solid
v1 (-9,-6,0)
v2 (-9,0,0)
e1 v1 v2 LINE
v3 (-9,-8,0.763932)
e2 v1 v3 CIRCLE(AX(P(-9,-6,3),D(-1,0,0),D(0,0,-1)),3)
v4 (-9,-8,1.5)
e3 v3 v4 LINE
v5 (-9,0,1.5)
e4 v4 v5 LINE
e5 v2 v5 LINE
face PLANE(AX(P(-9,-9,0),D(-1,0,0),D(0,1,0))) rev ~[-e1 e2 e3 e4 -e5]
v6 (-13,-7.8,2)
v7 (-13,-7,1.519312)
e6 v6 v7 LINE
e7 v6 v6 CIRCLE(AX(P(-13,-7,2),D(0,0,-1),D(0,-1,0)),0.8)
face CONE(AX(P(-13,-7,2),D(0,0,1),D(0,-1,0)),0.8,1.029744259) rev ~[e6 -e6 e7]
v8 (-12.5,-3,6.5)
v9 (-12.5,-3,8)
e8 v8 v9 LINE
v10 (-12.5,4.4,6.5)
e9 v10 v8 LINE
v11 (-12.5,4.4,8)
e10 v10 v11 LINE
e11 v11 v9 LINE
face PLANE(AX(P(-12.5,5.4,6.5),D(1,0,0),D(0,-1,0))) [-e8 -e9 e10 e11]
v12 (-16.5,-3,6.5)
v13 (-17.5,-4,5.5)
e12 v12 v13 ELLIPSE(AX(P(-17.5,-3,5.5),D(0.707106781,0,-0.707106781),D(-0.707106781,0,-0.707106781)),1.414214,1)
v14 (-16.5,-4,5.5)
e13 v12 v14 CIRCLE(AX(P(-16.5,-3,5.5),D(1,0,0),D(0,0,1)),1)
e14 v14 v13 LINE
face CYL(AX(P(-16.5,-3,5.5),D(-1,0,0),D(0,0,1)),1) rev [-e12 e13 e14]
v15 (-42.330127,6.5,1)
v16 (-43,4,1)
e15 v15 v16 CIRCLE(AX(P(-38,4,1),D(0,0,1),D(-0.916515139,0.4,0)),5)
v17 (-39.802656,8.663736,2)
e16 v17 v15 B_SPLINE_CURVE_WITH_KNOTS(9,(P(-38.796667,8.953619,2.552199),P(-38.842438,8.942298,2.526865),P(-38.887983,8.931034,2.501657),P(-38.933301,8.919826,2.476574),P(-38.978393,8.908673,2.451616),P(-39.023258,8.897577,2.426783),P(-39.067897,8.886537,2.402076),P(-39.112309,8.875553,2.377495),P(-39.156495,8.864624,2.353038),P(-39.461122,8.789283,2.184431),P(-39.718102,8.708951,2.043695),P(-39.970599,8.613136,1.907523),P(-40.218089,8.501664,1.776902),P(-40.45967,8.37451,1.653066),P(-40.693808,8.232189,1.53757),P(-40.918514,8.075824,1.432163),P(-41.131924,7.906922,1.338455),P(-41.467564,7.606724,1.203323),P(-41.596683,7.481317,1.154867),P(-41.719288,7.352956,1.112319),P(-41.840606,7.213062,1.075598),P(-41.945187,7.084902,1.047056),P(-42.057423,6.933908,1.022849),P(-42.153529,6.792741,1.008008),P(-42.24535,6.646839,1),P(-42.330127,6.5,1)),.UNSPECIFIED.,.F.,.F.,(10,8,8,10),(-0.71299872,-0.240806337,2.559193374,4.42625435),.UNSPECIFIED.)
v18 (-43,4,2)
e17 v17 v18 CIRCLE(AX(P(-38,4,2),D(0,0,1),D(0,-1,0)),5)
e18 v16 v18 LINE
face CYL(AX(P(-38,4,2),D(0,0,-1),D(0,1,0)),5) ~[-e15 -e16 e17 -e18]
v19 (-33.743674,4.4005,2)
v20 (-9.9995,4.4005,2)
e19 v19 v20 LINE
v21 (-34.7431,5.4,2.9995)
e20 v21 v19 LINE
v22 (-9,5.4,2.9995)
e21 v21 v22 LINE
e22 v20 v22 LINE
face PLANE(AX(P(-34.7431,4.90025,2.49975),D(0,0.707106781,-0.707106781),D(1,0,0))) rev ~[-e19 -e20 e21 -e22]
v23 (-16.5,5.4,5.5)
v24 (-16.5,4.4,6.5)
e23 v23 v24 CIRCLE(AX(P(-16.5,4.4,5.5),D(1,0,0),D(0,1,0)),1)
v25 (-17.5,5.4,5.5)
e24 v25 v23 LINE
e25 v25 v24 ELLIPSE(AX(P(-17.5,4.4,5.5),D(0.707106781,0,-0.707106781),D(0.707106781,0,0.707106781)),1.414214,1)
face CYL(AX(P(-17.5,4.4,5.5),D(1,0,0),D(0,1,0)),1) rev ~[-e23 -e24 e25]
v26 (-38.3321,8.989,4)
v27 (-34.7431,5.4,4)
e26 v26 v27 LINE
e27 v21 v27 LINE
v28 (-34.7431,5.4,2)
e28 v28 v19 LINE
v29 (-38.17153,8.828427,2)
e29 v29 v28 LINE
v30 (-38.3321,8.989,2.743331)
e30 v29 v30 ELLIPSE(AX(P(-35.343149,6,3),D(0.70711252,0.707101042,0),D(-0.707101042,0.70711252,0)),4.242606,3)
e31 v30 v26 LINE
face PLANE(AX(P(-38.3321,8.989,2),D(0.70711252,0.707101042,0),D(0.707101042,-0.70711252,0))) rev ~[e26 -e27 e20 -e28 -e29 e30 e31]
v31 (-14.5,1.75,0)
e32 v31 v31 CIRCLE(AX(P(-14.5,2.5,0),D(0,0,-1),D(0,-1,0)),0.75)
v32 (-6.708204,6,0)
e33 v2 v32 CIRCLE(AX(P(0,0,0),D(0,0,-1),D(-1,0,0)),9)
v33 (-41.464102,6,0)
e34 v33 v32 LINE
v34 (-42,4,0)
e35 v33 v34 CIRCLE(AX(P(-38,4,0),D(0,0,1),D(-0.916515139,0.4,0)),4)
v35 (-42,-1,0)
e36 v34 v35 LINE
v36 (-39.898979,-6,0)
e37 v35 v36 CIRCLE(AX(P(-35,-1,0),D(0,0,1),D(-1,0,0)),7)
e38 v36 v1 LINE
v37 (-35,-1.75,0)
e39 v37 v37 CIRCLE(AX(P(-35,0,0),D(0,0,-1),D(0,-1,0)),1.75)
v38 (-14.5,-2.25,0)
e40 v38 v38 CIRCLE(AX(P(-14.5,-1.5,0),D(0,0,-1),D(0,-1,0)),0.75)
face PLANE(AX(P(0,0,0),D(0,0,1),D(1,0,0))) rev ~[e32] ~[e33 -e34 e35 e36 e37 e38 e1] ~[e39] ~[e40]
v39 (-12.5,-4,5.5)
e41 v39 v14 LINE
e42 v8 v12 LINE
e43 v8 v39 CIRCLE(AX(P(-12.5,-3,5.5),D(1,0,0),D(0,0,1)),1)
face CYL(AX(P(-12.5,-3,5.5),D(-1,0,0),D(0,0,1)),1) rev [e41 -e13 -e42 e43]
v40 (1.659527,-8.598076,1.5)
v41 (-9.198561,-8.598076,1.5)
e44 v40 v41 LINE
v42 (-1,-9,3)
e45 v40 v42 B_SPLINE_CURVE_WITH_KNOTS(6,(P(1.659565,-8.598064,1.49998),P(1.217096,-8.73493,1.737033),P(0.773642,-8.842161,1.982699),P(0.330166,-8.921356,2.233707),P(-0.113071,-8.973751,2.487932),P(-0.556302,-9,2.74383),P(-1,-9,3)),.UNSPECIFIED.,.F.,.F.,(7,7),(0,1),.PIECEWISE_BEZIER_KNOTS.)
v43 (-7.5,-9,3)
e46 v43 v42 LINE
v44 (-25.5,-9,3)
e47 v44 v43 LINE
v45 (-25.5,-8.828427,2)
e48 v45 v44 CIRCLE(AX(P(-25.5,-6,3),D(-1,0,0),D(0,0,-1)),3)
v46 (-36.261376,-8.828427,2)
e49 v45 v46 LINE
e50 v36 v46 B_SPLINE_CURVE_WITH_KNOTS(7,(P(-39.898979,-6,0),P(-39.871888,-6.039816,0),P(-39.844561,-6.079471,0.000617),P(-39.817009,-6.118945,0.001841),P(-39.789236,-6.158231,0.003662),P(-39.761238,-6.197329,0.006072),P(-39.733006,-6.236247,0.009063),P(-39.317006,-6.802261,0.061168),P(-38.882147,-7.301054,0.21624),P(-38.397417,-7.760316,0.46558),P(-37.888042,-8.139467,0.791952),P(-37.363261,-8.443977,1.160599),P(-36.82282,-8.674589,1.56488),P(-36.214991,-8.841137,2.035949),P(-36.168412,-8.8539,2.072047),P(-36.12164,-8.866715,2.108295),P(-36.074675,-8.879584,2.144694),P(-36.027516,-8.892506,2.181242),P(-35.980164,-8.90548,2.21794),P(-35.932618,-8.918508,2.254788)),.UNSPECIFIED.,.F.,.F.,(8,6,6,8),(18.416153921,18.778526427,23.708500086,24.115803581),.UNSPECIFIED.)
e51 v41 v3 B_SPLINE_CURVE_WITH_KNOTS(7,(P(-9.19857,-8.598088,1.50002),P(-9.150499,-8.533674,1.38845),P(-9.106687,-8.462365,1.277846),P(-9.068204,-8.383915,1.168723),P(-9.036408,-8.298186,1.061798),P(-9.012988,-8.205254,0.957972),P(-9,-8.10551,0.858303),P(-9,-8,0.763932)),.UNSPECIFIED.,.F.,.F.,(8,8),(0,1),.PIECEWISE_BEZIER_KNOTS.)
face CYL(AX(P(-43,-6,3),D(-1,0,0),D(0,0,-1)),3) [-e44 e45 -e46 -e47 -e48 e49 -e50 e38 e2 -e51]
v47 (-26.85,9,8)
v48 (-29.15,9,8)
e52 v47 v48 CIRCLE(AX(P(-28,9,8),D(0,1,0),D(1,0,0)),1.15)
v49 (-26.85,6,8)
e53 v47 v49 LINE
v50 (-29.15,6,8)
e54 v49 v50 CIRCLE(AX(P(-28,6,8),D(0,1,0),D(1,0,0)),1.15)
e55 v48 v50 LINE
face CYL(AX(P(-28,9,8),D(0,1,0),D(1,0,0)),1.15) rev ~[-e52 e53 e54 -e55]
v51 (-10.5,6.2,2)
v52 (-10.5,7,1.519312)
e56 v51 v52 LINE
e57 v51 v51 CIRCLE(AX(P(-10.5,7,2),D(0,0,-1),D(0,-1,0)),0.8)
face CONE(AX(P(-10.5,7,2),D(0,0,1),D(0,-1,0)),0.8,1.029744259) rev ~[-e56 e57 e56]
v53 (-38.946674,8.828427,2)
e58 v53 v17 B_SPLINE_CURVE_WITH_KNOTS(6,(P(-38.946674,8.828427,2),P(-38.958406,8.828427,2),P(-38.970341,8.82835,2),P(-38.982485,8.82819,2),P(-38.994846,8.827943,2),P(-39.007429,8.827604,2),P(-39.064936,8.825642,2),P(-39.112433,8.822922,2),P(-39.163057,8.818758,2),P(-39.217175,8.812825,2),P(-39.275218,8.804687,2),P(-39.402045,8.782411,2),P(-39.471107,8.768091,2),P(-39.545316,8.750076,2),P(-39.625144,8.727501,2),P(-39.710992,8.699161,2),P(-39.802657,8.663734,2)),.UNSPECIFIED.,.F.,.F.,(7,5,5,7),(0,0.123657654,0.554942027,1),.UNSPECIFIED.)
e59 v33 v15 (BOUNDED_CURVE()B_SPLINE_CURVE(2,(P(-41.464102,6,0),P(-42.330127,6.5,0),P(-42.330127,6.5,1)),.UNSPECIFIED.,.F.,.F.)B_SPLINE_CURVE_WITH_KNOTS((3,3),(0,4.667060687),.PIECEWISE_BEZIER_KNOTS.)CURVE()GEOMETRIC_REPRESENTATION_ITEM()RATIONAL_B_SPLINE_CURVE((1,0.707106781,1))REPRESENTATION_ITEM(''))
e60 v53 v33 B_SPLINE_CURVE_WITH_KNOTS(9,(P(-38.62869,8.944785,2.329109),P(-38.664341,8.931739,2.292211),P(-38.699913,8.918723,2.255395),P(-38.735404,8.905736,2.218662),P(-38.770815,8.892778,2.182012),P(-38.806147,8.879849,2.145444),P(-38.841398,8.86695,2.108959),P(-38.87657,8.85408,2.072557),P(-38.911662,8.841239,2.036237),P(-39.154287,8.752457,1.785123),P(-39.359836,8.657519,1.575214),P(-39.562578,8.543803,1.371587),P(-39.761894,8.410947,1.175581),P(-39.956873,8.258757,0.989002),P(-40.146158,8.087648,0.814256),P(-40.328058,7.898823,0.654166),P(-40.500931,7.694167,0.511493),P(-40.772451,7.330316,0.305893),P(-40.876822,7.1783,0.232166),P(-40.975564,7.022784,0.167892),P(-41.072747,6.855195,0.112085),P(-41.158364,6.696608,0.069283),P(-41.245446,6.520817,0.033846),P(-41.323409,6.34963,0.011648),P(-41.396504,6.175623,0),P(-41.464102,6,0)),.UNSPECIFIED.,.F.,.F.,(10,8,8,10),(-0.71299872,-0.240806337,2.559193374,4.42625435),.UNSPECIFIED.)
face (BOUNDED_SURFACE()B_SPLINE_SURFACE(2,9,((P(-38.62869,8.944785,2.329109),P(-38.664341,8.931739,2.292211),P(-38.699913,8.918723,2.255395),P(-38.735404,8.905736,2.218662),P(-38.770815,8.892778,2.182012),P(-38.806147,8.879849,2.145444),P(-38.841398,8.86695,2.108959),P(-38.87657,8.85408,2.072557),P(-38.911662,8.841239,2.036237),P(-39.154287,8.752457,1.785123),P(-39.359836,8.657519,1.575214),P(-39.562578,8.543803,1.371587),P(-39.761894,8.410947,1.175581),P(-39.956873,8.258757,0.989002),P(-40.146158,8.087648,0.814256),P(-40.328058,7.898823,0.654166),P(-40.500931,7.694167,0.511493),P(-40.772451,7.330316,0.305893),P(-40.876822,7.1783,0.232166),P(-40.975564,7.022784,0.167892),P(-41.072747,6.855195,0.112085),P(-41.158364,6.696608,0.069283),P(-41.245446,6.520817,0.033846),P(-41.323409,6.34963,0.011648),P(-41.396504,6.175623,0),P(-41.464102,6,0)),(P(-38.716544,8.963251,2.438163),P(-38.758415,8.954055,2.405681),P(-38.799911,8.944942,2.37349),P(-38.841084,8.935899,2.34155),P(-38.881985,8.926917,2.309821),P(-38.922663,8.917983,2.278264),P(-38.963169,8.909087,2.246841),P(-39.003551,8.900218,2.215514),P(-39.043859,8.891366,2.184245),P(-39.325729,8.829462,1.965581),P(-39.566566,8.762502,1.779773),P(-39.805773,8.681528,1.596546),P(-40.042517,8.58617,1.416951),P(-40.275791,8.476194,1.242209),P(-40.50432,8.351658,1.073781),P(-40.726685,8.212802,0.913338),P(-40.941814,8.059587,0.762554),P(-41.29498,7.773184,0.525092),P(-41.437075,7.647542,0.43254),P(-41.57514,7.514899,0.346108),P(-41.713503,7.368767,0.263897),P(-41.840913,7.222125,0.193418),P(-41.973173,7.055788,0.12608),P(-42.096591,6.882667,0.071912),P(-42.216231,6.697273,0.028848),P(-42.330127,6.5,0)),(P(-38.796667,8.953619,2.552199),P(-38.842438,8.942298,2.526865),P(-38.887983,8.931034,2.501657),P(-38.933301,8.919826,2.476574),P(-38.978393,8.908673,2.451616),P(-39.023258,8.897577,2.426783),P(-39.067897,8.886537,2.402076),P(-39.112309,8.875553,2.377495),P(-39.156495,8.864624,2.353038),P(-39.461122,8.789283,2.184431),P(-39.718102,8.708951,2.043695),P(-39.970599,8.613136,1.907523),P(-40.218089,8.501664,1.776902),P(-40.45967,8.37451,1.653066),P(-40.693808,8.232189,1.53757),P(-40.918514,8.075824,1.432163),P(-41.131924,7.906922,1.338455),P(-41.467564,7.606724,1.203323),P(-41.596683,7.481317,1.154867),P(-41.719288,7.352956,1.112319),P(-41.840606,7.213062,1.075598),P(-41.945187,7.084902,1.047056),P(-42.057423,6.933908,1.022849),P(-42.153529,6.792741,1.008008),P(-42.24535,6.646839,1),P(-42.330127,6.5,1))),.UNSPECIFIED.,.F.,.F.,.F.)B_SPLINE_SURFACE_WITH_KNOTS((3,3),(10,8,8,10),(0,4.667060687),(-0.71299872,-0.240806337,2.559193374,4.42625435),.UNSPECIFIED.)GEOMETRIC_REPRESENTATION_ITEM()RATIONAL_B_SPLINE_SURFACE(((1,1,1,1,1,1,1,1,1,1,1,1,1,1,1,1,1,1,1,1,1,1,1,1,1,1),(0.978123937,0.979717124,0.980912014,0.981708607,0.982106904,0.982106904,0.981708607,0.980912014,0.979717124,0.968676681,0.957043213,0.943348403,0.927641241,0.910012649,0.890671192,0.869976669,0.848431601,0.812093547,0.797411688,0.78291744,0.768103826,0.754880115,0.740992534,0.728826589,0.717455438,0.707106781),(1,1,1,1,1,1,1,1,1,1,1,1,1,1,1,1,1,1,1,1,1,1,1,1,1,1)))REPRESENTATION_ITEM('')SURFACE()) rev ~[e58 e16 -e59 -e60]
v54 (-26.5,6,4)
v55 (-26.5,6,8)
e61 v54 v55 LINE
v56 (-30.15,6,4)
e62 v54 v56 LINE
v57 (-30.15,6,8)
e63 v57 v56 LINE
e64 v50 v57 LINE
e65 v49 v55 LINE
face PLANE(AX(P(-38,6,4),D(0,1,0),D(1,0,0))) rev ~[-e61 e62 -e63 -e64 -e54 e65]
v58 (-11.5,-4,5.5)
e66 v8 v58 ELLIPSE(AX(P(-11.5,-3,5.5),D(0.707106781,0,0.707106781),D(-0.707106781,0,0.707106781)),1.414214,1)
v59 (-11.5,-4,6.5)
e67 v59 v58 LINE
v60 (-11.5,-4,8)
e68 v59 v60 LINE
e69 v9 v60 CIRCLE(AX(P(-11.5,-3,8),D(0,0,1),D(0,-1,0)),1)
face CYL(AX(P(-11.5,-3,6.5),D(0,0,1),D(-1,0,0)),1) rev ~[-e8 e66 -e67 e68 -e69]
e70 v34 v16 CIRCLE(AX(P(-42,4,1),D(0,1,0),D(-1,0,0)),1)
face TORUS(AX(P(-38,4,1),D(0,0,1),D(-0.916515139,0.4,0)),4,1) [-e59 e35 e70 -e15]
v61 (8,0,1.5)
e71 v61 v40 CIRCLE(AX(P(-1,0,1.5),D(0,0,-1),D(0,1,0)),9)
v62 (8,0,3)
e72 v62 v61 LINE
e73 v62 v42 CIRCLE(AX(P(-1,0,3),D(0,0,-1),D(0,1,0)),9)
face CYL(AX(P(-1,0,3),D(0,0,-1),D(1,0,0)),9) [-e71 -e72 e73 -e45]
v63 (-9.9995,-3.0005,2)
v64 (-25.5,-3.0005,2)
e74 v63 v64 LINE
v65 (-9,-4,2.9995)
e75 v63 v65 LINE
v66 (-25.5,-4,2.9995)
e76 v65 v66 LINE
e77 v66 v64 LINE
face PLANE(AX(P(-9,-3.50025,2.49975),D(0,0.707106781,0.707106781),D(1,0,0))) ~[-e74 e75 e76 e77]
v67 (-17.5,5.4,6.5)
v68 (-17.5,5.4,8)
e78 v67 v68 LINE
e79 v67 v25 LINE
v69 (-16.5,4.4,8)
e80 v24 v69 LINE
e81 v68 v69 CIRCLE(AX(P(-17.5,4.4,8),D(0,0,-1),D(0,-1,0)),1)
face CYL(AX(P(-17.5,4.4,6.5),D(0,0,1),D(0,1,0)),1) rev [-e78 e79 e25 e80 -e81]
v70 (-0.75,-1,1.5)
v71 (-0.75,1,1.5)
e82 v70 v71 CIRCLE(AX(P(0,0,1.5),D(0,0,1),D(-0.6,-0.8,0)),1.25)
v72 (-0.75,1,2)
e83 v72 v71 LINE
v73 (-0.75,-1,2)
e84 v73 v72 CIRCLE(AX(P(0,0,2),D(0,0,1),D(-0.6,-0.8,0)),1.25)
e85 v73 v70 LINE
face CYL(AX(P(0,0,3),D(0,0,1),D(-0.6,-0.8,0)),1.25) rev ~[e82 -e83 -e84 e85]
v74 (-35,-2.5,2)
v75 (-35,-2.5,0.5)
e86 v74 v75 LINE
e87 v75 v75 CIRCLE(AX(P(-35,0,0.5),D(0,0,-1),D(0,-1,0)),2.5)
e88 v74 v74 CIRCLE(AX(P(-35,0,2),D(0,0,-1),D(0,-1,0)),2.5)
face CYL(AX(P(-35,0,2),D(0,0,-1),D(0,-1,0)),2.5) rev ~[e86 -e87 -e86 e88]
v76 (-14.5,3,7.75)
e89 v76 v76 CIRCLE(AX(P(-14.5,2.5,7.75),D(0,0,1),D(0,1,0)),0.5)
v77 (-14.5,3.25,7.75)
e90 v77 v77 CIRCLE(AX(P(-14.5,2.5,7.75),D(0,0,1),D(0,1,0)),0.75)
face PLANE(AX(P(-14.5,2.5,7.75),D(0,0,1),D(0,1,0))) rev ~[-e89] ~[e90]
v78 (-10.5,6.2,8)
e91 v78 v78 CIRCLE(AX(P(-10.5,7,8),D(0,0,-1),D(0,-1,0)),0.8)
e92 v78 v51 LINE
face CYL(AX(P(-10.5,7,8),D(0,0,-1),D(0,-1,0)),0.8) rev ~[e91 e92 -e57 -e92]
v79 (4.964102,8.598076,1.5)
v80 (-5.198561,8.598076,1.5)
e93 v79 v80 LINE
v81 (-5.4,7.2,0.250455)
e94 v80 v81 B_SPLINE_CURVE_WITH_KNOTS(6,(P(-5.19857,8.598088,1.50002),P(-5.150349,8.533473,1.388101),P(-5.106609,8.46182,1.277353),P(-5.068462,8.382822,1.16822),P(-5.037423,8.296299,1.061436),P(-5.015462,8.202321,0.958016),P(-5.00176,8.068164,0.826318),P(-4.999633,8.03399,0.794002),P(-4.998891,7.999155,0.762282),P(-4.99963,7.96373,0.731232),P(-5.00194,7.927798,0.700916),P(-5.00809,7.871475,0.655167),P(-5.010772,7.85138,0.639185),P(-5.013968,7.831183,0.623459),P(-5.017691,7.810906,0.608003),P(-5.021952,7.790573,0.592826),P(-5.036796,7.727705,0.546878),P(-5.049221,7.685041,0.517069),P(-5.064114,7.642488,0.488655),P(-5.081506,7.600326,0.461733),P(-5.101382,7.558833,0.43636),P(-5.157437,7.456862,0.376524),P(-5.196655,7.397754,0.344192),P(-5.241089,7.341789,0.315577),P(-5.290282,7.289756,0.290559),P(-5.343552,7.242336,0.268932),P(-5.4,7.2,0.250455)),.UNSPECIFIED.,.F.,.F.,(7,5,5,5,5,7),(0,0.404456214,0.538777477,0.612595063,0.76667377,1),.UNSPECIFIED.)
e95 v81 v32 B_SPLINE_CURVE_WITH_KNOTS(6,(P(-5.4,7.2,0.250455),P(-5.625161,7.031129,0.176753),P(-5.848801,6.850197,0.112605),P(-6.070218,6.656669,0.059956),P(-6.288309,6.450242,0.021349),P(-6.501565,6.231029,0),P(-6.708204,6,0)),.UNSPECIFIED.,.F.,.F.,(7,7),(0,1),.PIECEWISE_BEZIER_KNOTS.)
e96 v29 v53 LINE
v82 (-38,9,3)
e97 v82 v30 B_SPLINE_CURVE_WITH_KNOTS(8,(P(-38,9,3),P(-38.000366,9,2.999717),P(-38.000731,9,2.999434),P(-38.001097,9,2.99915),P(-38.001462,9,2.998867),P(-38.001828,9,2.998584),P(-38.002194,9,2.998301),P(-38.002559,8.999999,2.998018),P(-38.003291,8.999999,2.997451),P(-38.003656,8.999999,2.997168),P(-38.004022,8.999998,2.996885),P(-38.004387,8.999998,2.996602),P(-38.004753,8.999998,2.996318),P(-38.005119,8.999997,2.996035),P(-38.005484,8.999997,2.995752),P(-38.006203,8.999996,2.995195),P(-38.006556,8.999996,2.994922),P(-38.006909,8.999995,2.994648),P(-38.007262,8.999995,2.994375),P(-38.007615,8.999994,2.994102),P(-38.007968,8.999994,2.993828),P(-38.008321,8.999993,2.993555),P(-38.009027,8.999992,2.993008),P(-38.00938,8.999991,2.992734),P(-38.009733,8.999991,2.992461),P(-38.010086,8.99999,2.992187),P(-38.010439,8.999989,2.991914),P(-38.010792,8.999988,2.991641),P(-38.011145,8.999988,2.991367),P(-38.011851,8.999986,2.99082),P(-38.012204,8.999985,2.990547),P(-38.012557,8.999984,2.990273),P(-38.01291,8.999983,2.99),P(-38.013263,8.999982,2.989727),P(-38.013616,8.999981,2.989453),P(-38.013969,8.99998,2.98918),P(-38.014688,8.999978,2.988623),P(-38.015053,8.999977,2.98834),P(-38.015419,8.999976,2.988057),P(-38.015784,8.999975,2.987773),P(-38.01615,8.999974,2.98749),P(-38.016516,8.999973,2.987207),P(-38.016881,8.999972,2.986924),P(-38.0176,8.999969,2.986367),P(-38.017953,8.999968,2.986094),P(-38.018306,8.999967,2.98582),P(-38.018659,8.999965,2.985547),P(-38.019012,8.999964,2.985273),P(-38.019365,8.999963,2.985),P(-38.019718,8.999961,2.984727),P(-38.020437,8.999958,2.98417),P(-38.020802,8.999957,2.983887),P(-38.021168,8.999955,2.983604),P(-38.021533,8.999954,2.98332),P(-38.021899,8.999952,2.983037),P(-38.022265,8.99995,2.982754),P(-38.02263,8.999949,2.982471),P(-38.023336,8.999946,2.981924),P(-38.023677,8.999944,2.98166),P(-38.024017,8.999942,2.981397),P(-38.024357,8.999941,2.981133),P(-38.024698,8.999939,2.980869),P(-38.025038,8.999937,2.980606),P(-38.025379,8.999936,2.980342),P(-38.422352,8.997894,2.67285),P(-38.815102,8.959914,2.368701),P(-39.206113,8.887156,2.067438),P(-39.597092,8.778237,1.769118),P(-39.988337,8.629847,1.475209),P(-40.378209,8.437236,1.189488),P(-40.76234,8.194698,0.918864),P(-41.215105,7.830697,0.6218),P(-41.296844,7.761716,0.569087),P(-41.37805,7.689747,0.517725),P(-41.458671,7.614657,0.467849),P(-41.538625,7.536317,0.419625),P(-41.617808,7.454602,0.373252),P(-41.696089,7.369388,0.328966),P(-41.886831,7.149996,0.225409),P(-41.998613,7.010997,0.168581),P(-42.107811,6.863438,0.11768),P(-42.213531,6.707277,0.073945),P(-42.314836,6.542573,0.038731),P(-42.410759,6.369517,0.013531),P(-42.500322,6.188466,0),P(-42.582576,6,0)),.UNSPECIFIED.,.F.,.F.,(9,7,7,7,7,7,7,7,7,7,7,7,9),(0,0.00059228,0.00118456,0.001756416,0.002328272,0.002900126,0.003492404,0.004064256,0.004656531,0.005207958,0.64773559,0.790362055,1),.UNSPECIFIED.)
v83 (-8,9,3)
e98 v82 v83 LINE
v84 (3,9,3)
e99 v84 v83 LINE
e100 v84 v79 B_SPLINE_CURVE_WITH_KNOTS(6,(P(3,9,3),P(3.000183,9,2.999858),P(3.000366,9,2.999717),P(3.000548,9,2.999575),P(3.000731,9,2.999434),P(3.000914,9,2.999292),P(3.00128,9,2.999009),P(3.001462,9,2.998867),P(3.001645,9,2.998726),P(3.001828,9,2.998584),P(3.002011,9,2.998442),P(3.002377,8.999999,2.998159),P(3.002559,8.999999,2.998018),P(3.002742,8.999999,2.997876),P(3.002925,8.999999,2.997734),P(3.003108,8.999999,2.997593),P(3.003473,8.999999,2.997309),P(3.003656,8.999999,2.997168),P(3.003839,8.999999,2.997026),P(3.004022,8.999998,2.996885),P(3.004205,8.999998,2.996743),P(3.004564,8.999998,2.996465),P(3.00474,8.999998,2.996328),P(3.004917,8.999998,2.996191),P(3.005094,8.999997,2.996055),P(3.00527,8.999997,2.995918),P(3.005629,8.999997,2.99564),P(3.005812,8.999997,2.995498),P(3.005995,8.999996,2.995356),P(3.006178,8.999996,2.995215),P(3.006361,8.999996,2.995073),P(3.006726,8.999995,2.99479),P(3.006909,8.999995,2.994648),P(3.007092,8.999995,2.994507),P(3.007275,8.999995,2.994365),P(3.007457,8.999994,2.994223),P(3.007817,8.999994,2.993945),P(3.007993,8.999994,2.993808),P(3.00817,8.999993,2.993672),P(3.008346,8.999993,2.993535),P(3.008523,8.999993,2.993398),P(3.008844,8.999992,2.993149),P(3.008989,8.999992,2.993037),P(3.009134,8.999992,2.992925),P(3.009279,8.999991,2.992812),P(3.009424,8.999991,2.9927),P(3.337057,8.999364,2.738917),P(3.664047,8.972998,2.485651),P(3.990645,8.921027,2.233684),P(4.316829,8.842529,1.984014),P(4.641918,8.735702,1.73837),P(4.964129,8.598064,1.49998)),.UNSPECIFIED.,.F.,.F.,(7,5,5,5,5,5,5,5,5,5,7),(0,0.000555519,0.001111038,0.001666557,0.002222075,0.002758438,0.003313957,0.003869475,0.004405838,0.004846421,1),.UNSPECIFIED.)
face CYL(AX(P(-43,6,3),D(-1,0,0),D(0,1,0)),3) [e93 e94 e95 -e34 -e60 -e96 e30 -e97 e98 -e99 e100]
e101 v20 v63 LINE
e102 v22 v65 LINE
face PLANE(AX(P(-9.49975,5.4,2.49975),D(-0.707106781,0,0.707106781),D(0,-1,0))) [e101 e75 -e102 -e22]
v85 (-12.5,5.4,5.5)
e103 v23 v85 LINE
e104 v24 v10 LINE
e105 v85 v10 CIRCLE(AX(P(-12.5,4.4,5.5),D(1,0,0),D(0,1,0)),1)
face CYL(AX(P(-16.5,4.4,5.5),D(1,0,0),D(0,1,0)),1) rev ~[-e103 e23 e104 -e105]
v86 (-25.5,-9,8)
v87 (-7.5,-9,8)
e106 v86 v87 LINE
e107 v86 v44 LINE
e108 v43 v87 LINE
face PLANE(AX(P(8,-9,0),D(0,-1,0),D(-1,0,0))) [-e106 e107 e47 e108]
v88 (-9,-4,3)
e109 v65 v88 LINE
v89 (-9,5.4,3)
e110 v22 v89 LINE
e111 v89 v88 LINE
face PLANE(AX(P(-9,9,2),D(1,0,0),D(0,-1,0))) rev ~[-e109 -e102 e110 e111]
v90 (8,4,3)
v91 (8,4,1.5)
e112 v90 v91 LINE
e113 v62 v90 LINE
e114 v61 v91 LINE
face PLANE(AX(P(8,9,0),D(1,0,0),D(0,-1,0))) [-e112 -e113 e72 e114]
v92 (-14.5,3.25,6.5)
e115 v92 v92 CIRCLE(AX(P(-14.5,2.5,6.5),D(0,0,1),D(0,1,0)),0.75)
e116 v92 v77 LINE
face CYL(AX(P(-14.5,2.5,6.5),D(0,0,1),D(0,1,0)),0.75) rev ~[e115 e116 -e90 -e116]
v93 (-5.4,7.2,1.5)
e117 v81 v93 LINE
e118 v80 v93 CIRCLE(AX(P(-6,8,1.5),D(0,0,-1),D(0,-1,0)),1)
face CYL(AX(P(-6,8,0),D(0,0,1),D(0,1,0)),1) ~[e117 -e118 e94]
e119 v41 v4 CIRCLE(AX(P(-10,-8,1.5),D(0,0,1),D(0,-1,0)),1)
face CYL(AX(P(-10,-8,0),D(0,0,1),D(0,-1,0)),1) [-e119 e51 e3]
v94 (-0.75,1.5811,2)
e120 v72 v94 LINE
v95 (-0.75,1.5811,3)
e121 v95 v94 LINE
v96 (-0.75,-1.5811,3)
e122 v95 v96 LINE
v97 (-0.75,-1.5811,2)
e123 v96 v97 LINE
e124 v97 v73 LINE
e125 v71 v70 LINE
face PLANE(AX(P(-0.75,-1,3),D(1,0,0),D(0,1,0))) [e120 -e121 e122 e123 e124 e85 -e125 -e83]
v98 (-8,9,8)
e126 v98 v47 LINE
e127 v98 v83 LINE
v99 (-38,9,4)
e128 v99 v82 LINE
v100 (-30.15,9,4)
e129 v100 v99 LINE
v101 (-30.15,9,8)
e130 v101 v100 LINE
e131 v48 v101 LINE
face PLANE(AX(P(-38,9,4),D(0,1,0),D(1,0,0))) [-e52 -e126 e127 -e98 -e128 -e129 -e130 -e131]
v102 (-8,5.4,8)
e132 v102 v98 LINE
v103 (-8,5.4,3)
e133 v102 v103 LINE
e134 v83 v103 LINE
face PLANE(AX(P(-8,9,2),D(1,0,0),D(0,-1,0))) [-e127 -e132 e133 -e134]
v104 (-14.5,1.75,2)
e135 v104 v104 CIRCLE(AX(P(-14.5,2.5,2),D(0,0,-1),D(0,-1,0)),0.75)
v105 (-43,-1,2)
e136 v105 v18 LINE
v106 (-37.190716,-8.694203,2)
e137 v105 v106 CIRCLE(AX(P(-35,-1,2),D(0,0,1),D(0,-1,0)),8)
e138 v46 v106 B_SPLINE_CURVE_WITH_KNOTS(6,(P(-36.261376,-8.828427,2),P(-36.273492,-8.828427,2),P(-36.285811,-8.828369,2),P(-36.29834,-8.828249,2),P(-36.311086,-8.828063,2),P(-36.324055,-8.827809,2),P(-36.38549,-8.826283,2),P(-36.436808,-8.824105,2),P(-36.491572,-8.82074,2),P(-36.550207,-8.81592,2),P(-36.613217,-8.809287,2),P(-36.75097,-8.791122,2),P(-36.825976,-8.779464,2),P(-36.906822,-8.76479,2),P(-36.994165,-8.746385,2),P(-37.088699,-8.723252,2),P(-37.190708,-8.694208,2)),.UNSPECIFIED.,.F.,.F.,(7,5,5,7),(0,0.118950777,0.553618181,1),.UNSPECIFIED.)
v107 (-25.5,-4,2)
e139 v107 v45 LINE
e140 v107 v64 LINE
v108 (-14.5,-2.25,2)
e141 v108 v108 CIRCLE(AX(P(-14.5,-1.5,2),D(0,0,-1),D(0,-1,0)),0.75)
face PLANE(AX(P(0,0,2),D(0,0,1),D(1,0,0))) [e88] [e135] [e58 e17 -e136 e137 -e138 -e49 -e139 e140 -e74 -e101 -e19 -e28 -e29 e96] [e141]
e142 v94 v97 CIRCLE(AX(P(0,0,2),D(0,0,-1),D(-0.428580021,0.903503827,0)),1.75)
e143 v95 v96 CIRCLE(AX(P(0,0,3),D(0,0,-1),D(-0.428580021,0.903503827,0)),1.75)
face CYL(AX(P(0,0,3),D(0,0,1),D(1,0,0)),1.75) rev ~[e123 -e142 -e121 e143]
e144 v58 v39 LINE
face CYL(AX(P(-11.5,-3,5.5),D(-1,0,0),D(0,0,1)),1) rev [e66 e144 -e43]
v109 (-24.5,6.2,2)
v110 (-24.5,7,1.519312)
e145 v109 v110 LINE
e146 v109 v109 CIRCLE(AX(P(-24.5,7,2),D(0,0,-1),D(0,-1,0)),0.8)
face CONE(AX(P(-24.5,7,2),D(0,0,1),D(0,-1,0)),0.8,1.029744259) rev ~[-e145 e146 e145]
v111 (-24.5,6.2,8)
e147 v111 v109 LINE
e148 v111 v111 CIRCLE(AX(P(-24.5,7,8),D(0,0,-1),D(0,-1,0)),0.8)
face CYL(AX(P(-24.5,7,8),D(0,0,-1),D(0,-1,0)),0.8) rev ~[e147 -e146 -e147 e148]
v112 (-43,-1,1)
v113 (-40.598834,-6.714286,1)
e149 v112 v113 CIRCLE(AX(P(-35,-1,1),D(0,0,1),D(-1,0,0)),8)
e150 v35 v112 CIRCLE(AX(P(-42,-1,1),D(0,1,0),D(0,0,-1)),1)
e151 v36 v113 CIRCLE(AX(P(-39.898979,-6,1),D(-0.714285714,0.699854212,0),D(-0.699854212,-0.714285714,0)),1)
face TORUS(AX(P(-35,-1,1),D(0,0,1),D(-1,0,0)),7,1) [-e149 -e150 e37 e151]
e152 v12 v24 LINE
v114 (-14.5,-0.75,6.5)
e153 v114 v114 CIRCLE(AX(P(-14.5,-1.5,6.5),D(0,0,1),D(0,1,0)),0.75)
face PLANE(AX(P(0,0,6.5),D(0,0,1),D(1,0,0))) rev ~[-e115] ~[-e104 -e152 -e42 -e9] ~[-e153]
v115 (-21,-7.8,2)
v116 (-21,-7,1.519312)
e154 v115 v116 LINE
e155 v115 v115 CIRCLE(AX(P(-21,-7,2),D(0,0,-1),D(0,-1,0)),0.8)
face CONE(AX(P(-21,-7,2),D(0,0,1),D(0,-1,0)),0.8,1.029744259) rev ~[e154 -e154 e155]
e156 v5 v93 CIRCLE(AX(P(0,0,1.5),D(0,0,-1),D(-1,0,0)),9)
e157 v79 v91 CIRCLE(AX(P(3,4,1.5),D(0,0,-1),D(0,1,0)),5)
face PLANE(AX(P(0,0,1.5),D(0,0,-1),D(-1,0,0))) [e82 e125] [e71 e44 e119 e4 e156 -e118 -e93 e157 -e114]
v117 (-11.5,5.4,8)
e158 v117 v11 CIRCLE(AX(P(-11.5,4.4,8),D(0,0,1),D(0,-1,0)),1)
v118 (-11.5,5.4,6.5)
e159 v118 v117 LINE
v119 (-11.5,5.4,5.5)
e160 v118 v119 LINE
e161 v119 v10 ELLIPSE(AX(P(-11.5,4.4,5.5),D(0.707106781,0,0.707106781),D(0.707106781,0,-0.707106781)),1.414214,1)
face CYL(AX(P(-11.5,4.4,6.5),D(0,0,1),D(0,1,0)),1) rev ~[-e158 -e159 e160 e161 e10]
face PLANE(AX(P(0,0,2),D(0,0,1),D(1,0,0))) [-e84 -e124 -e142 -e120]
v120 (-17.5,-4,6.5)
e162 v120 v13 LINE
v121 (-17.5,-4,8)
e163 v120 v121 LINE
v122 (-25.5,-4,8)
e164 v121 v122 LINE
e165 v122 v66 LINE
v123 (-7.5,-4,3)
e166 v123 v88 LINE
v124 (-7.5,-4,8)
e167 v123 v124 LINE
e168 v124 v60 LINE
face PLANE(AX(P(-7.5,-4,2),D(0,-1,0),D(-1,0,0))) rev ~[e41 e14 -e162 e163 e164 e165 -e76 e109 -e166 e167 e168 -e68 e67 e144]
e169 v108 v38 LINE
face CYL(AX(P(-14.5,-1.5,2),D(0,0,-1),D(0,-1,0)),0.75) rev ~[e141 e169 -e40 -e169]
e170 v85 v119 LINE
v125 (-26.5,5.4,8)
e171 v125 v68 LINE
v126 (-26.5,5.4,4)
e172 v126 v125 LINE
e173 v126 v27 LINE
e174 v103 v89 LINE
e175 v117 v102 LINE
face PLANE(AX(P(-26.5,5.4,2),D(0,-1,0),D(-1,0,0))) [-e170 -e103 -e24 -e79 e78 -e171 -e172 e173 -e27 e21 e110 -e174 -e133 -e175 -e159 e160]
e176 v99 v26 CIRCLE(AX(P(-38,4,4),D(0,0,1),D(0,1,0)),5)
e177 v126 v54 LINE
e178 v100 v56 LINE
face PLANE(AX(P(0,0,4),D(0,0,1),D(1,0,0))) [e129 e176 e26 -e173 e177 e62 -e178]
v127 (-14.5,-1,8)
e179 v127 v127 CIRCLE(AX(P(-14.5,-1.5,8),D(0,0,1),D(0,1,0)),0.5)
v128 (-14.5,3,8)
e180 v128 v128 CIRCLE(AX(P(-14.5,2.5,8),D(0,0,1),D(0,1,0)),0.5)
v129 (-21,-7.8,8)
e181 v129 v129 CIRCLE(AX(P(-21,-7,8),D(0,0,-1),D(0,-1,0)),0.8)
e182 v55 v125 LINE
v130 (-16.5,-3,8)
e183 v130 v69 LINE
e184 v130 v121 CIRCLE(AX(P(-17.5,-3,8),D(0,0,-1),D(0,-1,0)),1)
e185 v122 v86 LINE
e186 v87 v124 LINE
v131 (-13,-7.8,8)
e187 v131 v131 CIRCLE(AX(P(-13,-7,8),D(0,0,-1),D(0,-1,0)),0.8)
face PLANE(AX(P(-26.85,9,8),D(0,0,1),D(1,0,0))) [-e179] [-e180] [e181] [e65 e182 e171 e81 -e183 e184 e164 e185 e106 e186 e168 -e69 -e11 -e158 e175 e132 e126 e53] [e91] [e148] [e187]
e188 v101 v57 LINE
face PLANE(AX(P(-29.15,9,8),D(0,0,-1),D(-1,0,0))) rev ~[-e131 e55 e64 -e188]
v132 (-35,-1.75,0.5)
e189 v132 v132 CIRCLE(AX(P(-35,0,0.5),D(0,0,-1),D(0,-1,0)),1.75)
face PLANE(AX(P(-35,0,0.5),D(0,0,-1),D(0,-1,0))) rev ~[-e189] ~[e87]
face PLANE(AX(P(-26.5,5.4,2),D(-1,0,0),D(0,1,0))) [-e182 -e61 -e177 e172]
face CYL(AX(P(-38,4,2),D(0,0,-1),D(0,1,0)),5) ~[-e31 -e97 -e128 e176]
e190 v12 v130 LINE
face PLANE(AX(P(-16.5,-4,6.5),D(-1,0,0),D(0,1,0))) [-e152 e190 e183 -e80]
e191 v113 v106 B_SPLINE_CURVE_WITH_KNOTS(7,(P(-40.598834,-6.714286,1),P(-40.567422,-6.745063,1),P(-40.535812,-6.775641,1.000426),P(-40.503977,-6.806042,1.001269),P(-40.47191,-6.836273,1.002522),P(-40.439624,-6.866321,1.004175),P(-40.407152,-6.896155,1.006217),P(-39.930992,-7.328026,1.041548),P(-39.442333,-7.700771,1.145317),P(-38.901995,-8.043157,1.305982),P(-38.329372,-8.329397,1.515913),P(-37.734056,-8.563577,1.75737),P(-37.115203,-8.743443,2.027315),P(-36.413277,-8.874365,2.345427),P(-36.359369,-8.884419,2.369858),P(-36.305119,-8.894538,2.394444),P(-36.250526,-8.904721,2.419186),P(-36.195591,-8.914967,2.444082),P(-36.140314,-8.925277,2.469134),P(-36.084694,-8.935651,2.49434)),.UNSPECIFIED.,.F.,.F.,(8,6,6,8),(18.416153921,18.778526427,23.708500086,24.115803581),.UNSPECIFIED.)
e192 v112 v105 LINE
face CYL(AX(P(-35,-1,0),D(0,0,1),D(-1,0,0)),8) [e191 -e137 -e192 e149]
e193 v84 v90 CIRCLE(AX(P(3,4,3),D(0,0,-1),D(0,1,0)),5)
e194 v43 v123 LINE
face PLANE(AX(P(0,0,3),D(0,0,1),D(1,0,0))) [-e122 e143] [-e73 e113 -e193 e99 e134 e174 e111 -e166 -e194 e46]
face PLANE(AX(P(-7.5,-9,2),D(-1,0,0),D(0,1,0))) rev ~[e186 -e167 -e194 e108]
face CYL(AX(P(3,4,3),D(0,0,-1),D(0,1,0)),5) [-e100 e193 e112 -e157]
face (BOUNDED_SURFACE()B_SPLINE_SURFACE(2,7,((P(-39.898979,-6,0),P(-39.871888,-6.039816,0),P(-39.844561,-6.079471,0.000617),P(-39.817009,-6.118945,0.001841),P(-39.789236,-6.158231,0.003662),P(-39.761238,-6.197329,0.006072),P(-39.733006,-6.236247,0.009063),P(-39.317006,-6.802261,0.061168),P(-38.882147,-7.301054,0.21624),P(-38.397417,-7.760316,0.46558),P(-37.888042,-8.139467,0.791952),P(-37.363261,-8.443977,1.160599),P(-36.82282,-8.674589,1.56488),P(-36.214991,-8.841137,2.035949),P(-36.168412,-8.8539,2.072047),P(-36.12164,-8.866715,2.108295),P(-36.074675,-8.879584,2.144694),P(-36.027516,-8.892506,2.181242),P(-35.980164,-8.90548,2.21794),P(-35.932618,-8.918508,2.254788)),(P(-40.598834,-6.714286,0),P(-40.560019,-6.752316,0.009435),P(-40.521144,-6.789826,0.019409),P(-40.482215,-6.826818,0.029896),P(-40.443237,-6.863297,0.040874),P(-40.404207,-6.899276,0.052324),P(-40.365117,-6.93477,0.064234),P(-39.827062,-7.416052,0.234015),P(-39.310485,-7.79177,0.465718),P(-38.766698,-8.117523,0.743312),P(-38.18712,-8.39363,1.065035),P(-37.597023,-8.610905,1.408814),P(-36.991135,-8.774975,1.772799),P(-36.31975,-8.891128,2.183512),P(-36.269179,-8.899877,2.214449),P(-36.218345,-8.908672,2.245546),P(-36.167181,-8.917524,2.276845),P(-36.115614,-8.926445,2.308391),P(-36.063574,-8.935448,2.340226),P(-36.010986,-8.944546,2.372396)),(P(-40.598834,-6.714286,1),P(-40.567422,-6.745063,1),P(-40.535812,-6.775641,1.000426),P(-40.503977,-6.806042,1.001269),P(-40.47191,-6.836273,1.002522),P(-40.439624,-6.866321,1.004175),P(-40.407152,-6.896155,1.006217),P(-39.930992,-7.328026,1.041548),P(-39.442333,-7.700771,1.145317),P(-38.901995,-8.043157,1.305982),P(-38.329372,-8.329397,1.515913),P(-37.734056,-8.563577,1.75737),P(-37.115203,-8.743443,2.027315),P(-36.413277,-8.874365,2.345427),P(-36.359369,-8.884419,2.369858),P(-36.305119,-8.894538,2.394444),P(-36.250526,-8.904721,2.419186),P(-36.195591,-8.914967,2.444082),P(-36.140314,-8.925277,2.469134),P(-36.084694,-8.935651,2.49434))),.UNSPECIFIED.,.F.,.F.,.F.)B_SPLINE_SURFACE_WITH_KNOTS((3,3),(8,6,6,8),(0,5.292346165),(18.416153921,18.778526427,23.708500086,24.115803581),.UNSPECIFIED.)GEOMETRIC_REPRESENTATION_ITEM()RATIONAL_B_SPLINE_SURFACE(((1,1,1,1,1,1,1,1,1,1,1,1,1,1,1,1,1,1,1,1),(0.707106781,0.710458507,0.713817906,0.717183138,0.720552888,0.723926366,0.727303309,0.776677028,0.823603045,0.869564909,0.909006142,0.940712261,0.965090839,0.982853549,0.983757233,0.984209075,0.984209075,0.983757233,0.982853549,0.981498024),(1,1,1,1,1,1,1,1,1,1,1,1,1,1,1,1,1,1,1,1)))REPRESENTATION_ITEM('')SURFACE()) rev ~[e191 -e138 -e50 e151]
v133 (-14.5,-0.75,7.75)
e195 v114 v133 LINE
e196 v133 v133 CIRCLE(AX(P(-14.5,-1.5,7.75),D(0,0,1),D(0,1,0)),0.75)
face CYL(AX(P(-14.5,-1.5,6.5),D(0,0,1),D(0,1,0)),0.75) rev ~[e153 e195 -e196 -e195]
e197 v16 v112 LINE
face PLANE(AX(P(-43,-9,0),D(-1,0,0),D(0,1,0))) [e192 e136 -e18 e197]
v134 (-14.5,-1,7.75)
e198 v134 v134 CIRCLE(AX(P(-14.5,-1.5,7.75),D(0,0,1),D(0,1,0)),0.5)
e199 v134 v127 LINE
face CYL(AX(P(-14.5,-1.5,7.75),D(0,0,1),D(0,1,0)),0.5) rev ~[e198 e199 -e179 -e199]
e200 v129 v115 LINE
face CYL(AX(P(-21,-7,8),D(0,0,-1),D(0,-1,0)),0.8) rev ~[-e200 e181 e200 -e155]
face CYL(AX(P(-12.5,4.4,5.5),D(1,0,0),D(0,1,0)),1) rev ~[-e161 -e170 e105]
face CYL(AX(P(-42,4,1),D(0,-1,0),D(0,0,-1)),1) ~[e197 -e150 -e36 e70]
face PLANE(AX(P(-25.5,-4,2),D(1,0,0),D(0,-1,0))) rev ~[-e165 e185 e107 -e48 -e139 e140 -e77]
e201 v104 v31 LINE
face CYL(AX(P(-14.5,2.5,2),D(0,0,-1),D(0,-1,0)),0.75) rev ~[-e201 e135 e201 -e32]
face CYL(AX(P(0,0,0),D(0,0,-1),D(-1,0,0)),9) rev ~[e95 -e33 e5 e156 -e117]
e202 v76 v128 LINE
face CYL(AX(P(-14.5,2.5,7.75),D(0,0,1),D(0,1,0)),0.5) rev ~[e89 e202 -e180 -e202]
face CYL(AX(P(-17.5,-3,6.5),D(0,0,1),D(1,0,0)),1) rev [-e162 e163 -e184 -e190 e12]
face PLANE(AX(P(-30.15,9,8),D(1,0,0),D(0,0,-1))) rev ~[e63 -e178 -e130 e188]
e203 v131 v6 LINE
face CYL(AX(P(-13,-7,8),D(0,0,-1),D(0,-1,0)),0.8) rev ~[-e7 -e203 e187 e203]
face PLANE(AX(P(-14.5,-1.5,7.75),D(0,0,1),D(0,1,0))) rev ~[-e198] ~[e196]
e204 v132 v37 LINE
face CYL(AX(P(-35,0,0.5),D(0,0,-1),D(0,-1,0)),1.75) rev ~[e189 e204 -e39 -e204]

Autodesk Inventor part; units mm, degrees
ref_plane "YZ Plane" through (0, 0, 0) normal (1, 0, 0) x (0, 1, 0)
ref_plane "XZ Plane" through (0, 0, 0) normal (0, 1, 0) x (-1, 0, 0)
ref_plane "XY Plane" through (0, 0, 0) normal (0, 0, 1) x (1, 0, 0)
sketch "axes" plane through (0, 0, 0) normal (0, 0, 1) x (1, 0, 0)
  point P0 (0, 0)
  point P1 (-35, 0)
  point P2 (0, 0)
  dimension "d0" = 35
sketch "tendon anchors" plane through (0, 0, 0) normal (0, 0, 1) x (1, 0, 0)
  line L0 (-8.2564, 0) -> (0, 0) construction
  line L1 (0, 0) -> (-7.5, -7.5) construction
  line L2 (-27.0254, 0) -> (-35, 0) construction
  line L3 (-35, 0) -> (-25.5, -5.5) construction
  dimension "d136" = 7.5
  dimension "d137" = 7.5
  dimension "d138" = 5.5
  dimension "d139" = 9.5
sketch "Sketch3" plane through (0, 0, 0) normal (0, 0, 1) x (1, 0, 0)
  line L0 (-43, 9) -> (8, 9)
  line L1 (8, 9) -> (8, -9)
  line L2 (8, -9) -> (-43, -9)
  line L3 (-43, -9) -> (-43, 9)
  point P0 (0, 0)
  point P1 (8, 0)
  point P2 (-35, 0)
  dimension "d1" = 18
  dimension "d2" = 8
  dimension "d3" = 8
extrude "base plate" add sketch "Sketch3" along normal blind 2
sketch "Sketch4" plane through (0, 0, 2) normal (0, 0, 1) x (1, 0, 0)
  line L0 (8, 9) -> (-43, 9) projected
  line L1 (-43, 9) -> (-43, -9) projected
  line L2 (-43, -9) -> (8, -9) projected
  line L3 (8, -9) -> (8, 9) projected
  line L4 (-26.5, 9) -> (-8, 9)
  line L5 (-8, 9) -> (-8, 5.4)
  line L6 (-8, 5.4) -> (-26.5, 5.4)
  line L7 (-26.5, 5.4) -> (-26.5, 9)
  line L8 (-25.5, -9) -> (-7.5, -9)
  line L9 (-7.5, -9) -> (-7.5, -4)
  line L10 (-7.5, -4) -> (-25.5, -4)
  line L11 (-25.5, -4) -> (-25.5, -9)
  point P0 (0, 0)
  point P1 (-25.5, -5.5)
  point P2 (-7.5, -7.5)
  dimension "d6" = 5
  dimension "d7" = 3.6
  dimension "d8" = 16.5
  dimension "d9" = 16
extrude "walls" add sketch "Sketch4" along normal blind 4.5 contours L5 L6 L7 L0 | L2 L11 L10 L9
sketch "Sketch5" plane through (0, 0, 2) normal (0, 0, 1) x (1, 0, 0)
  point P0 (0, 0)
  point P1 (-35, 0)
  point P2 (0, 0)
hole "joint bearings" at (-35, 0, 2) direction (0, 0, -1) diameter 3.5 end through all counterbore diameter 5 counterbore depth 1.5
fillet "front top" radius 5 1 edges at (-43, 9, 1)
fillet "front bottom" radius 8 1 edges at (-43, -9, 1)
sketch "Sketch7" plane through (0, 0, 2) normal (0, 0, 1) x (1, 0, 0)
  circle A0 centre (-35, 0) radius 4
  line L0 (-26.5, 9) -> (-38, 9) projected
  arc A1 (-38, 9) -> (-43, 4) centre (-38, 4) ccw projected
  line L1 (-26.5, 5.4) -> (-26.5, 9) projected
  line L2 (-38.3321, 8.989) -> (-32.1716, 2.8284)
  line L3 (-35, 0) -> (-47.831, 0) construction
  line L4 (-26.5, 5.4) -> (-34.7431, 5.4)
  point P0 (0, 0)
  dimension "d33" = 8
  dimension "d34" = 45
extrude "extension endstop" add sketch "Sketch7" along normal blind 2 contours L2 A1 L0 L1 L4
sketch "Sketch8" plane through (0, 0, 2) normal (0, 0, 1) x (1, 0, 0)
  point P0 (0, 0)
  point P1 (-35, 0)
  point P2 (-14.5, 2.5)
  point P3 (-14.5, 2.5)
  point P4 (-14.5, -1.5)
  dimension "d41" = 20.5
  dimension "d73" = 2.5
  dimension "d127" = 1.5
hole "spring pin" at (-14.5, 2.5, 2) at (-14.5, -1.5, 2) direction (0, 0, -1) diameter 1.5 end through all
sketch "Sketch10" plane through (0, 0, 2) normal (0, 0, 1) x (1, 0, 0)
  line L0 (-9, -9) -> (8, -9)
  line L1 (8, -9) -> (8, 9)
  line L2 (8, 9) -> (-9, 9)
  line L3 (-9, 9) -> (-9, -9)
  point P0 (0, 0)
  point P1 (-8, 9)
  dimension "d126" = 17
extrude "Extrusion4" add sketch "Sketch10" along normal blind 1
sketch "Sketch11" plane through (0, 0, 0) normal (0, 0, -1) x (-1, 0, 0)
  circle A0 centre (0, 0) radius 9
  line L0 (0, 9) -> (-9, 9)
  line L1 (-9, 9) -> (-9, -9)
  line L2 (-9, -9) -> (9, -9)
  line L3 (9, -9) -> (9, 0)
  dimension "d57" = 18
extrude "Extrusion5" cut sketch "Sketch11" against normal blind 1.5
fillet "Fillet5" radius 1 2 edges at (0, 9, 0.75) (-9, -9, 0.75)
fillet "Fillet6" radius 5 1 edges at (8, 9, 2.25)
fillet "Fillet7" radius 9 1 edges at (8, -9, 2.25)
sketch "Sketch12" plane through (0, 0, 3) normal (0, 0, 1) x (1, 0, 0)
  circle A0 centre (0, 0) radius 1.75
  line L0 (-0.75, -1.5811) -> (-0.75, 1.5811)
  dimension "d63" = 3.5
  dimension "d140" = 0.75
extrude "Extrusion6" cut sketch "Sketch12" against normal blind 1 contours A0 L0 picked at (0.0833, 0)
sketch "Sketch18" plane through (0, 0, 6.5) normal (0, 0, 1) x (1, 0, 0)
  line L0 (-26.5, 9) -> (-26.5, 5.4) projected
  line L1 (-26.5, 5.4) -> (-8, 5.4) projected
  line L2 (-8, 5.4) -> (-8, 9) projected
  line L3 (-8, 9) -> (-26.5, 9) projected
  line L4 (-25.5, -9) -> (-7.5, -9) projected
  line L5 (-7.5, -9) -> (-7.5, -4) projected
  line L6 (-7.5, -4) -> (-25.5, -4) projected
  line L7 (-25.5, -4) -> (-25.5, -9) projected
  circle A0 centre (-14.5, 2.5) radius 0.75 projected
  line L8 (-16.5, 5.4) -> (-12.5, 5.4)
  line L9 (-12.5, 5.4) -> (-12.5, -4)
  line L10 (-12.5, -4) -> (-16.5, -4)
  line L11 (-16.5, -4) -> (-16.5, 5.4)
  line L12 (-14.5, 2.5) -> (-14.5, -2.026) construction
  point P0 (0, 0)
  dimension "d105" = 4
extrude "Extrusion8" add sketch "Sketch18" along normal blind 1.5 contours L3 L2 L1 L0 | L1 L9 L6 L11 | L6 L5 L4 L7 | A0
sketch "Sketch19" plane through (0, 0, 6.5) normal (0, 0, -1) x (-1, 0, 0)
  circle A0 centre (14.5, 2.5) radius 0.75 projected
  circle A1 centre (14.5, -1.5) radius 0.75 projected
  point P0 (0, 0)
hole "spring pins support" at (-14.5, 2.5, 6.5) at (-14.5, -1.5, 6.5) direction (0, 0, 1) diameter 1 end through all counterbore diameter 1.5 counterbore depth 1.25
sketch "Sketch14" plane through (0, 0, 3) normal (0, 0, 1) x (1, 0, 0)
  line L0 (-0.75, -1.5811) -> (-0.75, 1.5811) projected
  arc A0 (-0.75, -1) -> (-0.75, 1) centre (0, 0) ccw
  dimension "d133" = 2.5
extrude "Extrusion11" cut sketch "Sketch14" against normal through all
sketch "Sketch17" plane through (0, 0, 8) normal (0, 0, 1) x (1, 0, 0)
  point P0 (5, 0)
  point P1 (-21, -7)
  point P2 (-13, -7)
  point P3 (-24.5, 7)
  point P4 (-10.5, 7)
  point P5 (-35, 0)
  point P6 (0, 0)
  point P7 (-35, 0)
  point P8 (0, 0)
  dimension "d92" = 7
  dimension "d93" = 7
  dimension "d94" = 10.5
  dimension "d95" = 10.5
  dimension "d96" = 14
  dimension "d97" = 13
hole "mounting" at (-24.5, 7, 8) at (-10.5, 7, 8) at (-21, -7, 8) at (-13, -7, 8) direction (0, 0, -1) diameter 1.6 depth 6 tip angle 118
sketch "Sketch20" plane through (-43, 4, 0) normal (-1, 0, 0) x (0, 0, 1)
  line L0 (3, 5) -> (20, 5)
  line L1 (20, 5) -> (20, -13)
  line L2 (20, -13) -> (3, -13)
  line L3 (0, -10) -> (0, 2)
  arc A0 (3, 5) -> (0, 2) centre (3, 2) ccw
  arc A1 (0, -10) -> (3, -13) centre (3, -10) ccw
  point P0 (0, -4)
  point P1 (0, 5)
  point P2 (0, -13)
  point P3 (0, -13)
  dimension "d115" = 20
  dimension "d116" = 3
extrude "side fillet" cut sketch "Sketch20" against normal through all keep common part
fillet "Fillet8" radius 1 5 edges at (-39.0048, -7.9255, 0.6994) (-43, 1.5, 0) (-42.8945, 5.0215, 0) (-41.0629, 7.9521, 0.722) (-42.5485, -3.6495, 0)
sketch "Sketch21" plane through (-38, 9, 4) normal (0, 1, 0) x (1, 0, 0)
  line L0 (11.5, 0) -> (0, 0) projected
  line L1 (11.5, 0) -> (11.5, -4) projected
  line L2 (10, -4) -> (10, -4) construction
  line L3 (11.15, -4) -> (11.15, -4)
  line L4 (8.85, -4) -> (8.85, -4)
  arc A0 (8.85, -4) -> (11.15, -4) centre (10, -4) ccw
  arc A1 (11.15, -4) -> (8.85, -4) centre (10, -4) ccw
  line L5 (8.85, -4) -> (7.85, -4)
  line L6 (7.85, -4) -> (7.85, 0)
  line L7 (11.15, -4) -> (11.5, -4)
  point P0 (38, 4)
  point P1 (10, -3.75)
  point P2 (3, 4)
  dimension "d120" = 2.3
  dimension "d121" = 7
  dimension "d122" = 0
  dimension "d123" = 1
extrude "cable clip" add sketch "Sketch21" against normal blind 3 contours L1 L7 A1 L5 L6 L0
chamfer "Chamfer1" distance 1 angle 45 3 edges at (-9, 0.7, 2) (-21.8716, 5.4, 2) (-17.25, -4, 2)
fillet "Fillet9" radius 1 4 edges at (-16.5, 5.4, 7.25) (-12.5, 5.4, 7.25) (-12.5, -4, 7.25) (-16.5, -4, 7.25)
fillet "Fillet10" radius 1 4 edges at (-17, -4, 6.5) (-12, -4, 6.5) (-12, 5.4, 6.5) (-17, 5.4, 6.5)
equation "\"d0\" = MCP_PIP_length"
equation "\"d41\" = PIP_spring_length"
equation "\"MCP_PIP_length\" = F5_MCP_PIP_length"
equation "\"PIP_spring_length\" = F5_PIP_spring_length"
equation "\"F5_MCP_PIP_length\" = 35"
equation "\"F5_PIP_spring_length\" = 20.5"
properties part number "phalanx 1 R F5"
